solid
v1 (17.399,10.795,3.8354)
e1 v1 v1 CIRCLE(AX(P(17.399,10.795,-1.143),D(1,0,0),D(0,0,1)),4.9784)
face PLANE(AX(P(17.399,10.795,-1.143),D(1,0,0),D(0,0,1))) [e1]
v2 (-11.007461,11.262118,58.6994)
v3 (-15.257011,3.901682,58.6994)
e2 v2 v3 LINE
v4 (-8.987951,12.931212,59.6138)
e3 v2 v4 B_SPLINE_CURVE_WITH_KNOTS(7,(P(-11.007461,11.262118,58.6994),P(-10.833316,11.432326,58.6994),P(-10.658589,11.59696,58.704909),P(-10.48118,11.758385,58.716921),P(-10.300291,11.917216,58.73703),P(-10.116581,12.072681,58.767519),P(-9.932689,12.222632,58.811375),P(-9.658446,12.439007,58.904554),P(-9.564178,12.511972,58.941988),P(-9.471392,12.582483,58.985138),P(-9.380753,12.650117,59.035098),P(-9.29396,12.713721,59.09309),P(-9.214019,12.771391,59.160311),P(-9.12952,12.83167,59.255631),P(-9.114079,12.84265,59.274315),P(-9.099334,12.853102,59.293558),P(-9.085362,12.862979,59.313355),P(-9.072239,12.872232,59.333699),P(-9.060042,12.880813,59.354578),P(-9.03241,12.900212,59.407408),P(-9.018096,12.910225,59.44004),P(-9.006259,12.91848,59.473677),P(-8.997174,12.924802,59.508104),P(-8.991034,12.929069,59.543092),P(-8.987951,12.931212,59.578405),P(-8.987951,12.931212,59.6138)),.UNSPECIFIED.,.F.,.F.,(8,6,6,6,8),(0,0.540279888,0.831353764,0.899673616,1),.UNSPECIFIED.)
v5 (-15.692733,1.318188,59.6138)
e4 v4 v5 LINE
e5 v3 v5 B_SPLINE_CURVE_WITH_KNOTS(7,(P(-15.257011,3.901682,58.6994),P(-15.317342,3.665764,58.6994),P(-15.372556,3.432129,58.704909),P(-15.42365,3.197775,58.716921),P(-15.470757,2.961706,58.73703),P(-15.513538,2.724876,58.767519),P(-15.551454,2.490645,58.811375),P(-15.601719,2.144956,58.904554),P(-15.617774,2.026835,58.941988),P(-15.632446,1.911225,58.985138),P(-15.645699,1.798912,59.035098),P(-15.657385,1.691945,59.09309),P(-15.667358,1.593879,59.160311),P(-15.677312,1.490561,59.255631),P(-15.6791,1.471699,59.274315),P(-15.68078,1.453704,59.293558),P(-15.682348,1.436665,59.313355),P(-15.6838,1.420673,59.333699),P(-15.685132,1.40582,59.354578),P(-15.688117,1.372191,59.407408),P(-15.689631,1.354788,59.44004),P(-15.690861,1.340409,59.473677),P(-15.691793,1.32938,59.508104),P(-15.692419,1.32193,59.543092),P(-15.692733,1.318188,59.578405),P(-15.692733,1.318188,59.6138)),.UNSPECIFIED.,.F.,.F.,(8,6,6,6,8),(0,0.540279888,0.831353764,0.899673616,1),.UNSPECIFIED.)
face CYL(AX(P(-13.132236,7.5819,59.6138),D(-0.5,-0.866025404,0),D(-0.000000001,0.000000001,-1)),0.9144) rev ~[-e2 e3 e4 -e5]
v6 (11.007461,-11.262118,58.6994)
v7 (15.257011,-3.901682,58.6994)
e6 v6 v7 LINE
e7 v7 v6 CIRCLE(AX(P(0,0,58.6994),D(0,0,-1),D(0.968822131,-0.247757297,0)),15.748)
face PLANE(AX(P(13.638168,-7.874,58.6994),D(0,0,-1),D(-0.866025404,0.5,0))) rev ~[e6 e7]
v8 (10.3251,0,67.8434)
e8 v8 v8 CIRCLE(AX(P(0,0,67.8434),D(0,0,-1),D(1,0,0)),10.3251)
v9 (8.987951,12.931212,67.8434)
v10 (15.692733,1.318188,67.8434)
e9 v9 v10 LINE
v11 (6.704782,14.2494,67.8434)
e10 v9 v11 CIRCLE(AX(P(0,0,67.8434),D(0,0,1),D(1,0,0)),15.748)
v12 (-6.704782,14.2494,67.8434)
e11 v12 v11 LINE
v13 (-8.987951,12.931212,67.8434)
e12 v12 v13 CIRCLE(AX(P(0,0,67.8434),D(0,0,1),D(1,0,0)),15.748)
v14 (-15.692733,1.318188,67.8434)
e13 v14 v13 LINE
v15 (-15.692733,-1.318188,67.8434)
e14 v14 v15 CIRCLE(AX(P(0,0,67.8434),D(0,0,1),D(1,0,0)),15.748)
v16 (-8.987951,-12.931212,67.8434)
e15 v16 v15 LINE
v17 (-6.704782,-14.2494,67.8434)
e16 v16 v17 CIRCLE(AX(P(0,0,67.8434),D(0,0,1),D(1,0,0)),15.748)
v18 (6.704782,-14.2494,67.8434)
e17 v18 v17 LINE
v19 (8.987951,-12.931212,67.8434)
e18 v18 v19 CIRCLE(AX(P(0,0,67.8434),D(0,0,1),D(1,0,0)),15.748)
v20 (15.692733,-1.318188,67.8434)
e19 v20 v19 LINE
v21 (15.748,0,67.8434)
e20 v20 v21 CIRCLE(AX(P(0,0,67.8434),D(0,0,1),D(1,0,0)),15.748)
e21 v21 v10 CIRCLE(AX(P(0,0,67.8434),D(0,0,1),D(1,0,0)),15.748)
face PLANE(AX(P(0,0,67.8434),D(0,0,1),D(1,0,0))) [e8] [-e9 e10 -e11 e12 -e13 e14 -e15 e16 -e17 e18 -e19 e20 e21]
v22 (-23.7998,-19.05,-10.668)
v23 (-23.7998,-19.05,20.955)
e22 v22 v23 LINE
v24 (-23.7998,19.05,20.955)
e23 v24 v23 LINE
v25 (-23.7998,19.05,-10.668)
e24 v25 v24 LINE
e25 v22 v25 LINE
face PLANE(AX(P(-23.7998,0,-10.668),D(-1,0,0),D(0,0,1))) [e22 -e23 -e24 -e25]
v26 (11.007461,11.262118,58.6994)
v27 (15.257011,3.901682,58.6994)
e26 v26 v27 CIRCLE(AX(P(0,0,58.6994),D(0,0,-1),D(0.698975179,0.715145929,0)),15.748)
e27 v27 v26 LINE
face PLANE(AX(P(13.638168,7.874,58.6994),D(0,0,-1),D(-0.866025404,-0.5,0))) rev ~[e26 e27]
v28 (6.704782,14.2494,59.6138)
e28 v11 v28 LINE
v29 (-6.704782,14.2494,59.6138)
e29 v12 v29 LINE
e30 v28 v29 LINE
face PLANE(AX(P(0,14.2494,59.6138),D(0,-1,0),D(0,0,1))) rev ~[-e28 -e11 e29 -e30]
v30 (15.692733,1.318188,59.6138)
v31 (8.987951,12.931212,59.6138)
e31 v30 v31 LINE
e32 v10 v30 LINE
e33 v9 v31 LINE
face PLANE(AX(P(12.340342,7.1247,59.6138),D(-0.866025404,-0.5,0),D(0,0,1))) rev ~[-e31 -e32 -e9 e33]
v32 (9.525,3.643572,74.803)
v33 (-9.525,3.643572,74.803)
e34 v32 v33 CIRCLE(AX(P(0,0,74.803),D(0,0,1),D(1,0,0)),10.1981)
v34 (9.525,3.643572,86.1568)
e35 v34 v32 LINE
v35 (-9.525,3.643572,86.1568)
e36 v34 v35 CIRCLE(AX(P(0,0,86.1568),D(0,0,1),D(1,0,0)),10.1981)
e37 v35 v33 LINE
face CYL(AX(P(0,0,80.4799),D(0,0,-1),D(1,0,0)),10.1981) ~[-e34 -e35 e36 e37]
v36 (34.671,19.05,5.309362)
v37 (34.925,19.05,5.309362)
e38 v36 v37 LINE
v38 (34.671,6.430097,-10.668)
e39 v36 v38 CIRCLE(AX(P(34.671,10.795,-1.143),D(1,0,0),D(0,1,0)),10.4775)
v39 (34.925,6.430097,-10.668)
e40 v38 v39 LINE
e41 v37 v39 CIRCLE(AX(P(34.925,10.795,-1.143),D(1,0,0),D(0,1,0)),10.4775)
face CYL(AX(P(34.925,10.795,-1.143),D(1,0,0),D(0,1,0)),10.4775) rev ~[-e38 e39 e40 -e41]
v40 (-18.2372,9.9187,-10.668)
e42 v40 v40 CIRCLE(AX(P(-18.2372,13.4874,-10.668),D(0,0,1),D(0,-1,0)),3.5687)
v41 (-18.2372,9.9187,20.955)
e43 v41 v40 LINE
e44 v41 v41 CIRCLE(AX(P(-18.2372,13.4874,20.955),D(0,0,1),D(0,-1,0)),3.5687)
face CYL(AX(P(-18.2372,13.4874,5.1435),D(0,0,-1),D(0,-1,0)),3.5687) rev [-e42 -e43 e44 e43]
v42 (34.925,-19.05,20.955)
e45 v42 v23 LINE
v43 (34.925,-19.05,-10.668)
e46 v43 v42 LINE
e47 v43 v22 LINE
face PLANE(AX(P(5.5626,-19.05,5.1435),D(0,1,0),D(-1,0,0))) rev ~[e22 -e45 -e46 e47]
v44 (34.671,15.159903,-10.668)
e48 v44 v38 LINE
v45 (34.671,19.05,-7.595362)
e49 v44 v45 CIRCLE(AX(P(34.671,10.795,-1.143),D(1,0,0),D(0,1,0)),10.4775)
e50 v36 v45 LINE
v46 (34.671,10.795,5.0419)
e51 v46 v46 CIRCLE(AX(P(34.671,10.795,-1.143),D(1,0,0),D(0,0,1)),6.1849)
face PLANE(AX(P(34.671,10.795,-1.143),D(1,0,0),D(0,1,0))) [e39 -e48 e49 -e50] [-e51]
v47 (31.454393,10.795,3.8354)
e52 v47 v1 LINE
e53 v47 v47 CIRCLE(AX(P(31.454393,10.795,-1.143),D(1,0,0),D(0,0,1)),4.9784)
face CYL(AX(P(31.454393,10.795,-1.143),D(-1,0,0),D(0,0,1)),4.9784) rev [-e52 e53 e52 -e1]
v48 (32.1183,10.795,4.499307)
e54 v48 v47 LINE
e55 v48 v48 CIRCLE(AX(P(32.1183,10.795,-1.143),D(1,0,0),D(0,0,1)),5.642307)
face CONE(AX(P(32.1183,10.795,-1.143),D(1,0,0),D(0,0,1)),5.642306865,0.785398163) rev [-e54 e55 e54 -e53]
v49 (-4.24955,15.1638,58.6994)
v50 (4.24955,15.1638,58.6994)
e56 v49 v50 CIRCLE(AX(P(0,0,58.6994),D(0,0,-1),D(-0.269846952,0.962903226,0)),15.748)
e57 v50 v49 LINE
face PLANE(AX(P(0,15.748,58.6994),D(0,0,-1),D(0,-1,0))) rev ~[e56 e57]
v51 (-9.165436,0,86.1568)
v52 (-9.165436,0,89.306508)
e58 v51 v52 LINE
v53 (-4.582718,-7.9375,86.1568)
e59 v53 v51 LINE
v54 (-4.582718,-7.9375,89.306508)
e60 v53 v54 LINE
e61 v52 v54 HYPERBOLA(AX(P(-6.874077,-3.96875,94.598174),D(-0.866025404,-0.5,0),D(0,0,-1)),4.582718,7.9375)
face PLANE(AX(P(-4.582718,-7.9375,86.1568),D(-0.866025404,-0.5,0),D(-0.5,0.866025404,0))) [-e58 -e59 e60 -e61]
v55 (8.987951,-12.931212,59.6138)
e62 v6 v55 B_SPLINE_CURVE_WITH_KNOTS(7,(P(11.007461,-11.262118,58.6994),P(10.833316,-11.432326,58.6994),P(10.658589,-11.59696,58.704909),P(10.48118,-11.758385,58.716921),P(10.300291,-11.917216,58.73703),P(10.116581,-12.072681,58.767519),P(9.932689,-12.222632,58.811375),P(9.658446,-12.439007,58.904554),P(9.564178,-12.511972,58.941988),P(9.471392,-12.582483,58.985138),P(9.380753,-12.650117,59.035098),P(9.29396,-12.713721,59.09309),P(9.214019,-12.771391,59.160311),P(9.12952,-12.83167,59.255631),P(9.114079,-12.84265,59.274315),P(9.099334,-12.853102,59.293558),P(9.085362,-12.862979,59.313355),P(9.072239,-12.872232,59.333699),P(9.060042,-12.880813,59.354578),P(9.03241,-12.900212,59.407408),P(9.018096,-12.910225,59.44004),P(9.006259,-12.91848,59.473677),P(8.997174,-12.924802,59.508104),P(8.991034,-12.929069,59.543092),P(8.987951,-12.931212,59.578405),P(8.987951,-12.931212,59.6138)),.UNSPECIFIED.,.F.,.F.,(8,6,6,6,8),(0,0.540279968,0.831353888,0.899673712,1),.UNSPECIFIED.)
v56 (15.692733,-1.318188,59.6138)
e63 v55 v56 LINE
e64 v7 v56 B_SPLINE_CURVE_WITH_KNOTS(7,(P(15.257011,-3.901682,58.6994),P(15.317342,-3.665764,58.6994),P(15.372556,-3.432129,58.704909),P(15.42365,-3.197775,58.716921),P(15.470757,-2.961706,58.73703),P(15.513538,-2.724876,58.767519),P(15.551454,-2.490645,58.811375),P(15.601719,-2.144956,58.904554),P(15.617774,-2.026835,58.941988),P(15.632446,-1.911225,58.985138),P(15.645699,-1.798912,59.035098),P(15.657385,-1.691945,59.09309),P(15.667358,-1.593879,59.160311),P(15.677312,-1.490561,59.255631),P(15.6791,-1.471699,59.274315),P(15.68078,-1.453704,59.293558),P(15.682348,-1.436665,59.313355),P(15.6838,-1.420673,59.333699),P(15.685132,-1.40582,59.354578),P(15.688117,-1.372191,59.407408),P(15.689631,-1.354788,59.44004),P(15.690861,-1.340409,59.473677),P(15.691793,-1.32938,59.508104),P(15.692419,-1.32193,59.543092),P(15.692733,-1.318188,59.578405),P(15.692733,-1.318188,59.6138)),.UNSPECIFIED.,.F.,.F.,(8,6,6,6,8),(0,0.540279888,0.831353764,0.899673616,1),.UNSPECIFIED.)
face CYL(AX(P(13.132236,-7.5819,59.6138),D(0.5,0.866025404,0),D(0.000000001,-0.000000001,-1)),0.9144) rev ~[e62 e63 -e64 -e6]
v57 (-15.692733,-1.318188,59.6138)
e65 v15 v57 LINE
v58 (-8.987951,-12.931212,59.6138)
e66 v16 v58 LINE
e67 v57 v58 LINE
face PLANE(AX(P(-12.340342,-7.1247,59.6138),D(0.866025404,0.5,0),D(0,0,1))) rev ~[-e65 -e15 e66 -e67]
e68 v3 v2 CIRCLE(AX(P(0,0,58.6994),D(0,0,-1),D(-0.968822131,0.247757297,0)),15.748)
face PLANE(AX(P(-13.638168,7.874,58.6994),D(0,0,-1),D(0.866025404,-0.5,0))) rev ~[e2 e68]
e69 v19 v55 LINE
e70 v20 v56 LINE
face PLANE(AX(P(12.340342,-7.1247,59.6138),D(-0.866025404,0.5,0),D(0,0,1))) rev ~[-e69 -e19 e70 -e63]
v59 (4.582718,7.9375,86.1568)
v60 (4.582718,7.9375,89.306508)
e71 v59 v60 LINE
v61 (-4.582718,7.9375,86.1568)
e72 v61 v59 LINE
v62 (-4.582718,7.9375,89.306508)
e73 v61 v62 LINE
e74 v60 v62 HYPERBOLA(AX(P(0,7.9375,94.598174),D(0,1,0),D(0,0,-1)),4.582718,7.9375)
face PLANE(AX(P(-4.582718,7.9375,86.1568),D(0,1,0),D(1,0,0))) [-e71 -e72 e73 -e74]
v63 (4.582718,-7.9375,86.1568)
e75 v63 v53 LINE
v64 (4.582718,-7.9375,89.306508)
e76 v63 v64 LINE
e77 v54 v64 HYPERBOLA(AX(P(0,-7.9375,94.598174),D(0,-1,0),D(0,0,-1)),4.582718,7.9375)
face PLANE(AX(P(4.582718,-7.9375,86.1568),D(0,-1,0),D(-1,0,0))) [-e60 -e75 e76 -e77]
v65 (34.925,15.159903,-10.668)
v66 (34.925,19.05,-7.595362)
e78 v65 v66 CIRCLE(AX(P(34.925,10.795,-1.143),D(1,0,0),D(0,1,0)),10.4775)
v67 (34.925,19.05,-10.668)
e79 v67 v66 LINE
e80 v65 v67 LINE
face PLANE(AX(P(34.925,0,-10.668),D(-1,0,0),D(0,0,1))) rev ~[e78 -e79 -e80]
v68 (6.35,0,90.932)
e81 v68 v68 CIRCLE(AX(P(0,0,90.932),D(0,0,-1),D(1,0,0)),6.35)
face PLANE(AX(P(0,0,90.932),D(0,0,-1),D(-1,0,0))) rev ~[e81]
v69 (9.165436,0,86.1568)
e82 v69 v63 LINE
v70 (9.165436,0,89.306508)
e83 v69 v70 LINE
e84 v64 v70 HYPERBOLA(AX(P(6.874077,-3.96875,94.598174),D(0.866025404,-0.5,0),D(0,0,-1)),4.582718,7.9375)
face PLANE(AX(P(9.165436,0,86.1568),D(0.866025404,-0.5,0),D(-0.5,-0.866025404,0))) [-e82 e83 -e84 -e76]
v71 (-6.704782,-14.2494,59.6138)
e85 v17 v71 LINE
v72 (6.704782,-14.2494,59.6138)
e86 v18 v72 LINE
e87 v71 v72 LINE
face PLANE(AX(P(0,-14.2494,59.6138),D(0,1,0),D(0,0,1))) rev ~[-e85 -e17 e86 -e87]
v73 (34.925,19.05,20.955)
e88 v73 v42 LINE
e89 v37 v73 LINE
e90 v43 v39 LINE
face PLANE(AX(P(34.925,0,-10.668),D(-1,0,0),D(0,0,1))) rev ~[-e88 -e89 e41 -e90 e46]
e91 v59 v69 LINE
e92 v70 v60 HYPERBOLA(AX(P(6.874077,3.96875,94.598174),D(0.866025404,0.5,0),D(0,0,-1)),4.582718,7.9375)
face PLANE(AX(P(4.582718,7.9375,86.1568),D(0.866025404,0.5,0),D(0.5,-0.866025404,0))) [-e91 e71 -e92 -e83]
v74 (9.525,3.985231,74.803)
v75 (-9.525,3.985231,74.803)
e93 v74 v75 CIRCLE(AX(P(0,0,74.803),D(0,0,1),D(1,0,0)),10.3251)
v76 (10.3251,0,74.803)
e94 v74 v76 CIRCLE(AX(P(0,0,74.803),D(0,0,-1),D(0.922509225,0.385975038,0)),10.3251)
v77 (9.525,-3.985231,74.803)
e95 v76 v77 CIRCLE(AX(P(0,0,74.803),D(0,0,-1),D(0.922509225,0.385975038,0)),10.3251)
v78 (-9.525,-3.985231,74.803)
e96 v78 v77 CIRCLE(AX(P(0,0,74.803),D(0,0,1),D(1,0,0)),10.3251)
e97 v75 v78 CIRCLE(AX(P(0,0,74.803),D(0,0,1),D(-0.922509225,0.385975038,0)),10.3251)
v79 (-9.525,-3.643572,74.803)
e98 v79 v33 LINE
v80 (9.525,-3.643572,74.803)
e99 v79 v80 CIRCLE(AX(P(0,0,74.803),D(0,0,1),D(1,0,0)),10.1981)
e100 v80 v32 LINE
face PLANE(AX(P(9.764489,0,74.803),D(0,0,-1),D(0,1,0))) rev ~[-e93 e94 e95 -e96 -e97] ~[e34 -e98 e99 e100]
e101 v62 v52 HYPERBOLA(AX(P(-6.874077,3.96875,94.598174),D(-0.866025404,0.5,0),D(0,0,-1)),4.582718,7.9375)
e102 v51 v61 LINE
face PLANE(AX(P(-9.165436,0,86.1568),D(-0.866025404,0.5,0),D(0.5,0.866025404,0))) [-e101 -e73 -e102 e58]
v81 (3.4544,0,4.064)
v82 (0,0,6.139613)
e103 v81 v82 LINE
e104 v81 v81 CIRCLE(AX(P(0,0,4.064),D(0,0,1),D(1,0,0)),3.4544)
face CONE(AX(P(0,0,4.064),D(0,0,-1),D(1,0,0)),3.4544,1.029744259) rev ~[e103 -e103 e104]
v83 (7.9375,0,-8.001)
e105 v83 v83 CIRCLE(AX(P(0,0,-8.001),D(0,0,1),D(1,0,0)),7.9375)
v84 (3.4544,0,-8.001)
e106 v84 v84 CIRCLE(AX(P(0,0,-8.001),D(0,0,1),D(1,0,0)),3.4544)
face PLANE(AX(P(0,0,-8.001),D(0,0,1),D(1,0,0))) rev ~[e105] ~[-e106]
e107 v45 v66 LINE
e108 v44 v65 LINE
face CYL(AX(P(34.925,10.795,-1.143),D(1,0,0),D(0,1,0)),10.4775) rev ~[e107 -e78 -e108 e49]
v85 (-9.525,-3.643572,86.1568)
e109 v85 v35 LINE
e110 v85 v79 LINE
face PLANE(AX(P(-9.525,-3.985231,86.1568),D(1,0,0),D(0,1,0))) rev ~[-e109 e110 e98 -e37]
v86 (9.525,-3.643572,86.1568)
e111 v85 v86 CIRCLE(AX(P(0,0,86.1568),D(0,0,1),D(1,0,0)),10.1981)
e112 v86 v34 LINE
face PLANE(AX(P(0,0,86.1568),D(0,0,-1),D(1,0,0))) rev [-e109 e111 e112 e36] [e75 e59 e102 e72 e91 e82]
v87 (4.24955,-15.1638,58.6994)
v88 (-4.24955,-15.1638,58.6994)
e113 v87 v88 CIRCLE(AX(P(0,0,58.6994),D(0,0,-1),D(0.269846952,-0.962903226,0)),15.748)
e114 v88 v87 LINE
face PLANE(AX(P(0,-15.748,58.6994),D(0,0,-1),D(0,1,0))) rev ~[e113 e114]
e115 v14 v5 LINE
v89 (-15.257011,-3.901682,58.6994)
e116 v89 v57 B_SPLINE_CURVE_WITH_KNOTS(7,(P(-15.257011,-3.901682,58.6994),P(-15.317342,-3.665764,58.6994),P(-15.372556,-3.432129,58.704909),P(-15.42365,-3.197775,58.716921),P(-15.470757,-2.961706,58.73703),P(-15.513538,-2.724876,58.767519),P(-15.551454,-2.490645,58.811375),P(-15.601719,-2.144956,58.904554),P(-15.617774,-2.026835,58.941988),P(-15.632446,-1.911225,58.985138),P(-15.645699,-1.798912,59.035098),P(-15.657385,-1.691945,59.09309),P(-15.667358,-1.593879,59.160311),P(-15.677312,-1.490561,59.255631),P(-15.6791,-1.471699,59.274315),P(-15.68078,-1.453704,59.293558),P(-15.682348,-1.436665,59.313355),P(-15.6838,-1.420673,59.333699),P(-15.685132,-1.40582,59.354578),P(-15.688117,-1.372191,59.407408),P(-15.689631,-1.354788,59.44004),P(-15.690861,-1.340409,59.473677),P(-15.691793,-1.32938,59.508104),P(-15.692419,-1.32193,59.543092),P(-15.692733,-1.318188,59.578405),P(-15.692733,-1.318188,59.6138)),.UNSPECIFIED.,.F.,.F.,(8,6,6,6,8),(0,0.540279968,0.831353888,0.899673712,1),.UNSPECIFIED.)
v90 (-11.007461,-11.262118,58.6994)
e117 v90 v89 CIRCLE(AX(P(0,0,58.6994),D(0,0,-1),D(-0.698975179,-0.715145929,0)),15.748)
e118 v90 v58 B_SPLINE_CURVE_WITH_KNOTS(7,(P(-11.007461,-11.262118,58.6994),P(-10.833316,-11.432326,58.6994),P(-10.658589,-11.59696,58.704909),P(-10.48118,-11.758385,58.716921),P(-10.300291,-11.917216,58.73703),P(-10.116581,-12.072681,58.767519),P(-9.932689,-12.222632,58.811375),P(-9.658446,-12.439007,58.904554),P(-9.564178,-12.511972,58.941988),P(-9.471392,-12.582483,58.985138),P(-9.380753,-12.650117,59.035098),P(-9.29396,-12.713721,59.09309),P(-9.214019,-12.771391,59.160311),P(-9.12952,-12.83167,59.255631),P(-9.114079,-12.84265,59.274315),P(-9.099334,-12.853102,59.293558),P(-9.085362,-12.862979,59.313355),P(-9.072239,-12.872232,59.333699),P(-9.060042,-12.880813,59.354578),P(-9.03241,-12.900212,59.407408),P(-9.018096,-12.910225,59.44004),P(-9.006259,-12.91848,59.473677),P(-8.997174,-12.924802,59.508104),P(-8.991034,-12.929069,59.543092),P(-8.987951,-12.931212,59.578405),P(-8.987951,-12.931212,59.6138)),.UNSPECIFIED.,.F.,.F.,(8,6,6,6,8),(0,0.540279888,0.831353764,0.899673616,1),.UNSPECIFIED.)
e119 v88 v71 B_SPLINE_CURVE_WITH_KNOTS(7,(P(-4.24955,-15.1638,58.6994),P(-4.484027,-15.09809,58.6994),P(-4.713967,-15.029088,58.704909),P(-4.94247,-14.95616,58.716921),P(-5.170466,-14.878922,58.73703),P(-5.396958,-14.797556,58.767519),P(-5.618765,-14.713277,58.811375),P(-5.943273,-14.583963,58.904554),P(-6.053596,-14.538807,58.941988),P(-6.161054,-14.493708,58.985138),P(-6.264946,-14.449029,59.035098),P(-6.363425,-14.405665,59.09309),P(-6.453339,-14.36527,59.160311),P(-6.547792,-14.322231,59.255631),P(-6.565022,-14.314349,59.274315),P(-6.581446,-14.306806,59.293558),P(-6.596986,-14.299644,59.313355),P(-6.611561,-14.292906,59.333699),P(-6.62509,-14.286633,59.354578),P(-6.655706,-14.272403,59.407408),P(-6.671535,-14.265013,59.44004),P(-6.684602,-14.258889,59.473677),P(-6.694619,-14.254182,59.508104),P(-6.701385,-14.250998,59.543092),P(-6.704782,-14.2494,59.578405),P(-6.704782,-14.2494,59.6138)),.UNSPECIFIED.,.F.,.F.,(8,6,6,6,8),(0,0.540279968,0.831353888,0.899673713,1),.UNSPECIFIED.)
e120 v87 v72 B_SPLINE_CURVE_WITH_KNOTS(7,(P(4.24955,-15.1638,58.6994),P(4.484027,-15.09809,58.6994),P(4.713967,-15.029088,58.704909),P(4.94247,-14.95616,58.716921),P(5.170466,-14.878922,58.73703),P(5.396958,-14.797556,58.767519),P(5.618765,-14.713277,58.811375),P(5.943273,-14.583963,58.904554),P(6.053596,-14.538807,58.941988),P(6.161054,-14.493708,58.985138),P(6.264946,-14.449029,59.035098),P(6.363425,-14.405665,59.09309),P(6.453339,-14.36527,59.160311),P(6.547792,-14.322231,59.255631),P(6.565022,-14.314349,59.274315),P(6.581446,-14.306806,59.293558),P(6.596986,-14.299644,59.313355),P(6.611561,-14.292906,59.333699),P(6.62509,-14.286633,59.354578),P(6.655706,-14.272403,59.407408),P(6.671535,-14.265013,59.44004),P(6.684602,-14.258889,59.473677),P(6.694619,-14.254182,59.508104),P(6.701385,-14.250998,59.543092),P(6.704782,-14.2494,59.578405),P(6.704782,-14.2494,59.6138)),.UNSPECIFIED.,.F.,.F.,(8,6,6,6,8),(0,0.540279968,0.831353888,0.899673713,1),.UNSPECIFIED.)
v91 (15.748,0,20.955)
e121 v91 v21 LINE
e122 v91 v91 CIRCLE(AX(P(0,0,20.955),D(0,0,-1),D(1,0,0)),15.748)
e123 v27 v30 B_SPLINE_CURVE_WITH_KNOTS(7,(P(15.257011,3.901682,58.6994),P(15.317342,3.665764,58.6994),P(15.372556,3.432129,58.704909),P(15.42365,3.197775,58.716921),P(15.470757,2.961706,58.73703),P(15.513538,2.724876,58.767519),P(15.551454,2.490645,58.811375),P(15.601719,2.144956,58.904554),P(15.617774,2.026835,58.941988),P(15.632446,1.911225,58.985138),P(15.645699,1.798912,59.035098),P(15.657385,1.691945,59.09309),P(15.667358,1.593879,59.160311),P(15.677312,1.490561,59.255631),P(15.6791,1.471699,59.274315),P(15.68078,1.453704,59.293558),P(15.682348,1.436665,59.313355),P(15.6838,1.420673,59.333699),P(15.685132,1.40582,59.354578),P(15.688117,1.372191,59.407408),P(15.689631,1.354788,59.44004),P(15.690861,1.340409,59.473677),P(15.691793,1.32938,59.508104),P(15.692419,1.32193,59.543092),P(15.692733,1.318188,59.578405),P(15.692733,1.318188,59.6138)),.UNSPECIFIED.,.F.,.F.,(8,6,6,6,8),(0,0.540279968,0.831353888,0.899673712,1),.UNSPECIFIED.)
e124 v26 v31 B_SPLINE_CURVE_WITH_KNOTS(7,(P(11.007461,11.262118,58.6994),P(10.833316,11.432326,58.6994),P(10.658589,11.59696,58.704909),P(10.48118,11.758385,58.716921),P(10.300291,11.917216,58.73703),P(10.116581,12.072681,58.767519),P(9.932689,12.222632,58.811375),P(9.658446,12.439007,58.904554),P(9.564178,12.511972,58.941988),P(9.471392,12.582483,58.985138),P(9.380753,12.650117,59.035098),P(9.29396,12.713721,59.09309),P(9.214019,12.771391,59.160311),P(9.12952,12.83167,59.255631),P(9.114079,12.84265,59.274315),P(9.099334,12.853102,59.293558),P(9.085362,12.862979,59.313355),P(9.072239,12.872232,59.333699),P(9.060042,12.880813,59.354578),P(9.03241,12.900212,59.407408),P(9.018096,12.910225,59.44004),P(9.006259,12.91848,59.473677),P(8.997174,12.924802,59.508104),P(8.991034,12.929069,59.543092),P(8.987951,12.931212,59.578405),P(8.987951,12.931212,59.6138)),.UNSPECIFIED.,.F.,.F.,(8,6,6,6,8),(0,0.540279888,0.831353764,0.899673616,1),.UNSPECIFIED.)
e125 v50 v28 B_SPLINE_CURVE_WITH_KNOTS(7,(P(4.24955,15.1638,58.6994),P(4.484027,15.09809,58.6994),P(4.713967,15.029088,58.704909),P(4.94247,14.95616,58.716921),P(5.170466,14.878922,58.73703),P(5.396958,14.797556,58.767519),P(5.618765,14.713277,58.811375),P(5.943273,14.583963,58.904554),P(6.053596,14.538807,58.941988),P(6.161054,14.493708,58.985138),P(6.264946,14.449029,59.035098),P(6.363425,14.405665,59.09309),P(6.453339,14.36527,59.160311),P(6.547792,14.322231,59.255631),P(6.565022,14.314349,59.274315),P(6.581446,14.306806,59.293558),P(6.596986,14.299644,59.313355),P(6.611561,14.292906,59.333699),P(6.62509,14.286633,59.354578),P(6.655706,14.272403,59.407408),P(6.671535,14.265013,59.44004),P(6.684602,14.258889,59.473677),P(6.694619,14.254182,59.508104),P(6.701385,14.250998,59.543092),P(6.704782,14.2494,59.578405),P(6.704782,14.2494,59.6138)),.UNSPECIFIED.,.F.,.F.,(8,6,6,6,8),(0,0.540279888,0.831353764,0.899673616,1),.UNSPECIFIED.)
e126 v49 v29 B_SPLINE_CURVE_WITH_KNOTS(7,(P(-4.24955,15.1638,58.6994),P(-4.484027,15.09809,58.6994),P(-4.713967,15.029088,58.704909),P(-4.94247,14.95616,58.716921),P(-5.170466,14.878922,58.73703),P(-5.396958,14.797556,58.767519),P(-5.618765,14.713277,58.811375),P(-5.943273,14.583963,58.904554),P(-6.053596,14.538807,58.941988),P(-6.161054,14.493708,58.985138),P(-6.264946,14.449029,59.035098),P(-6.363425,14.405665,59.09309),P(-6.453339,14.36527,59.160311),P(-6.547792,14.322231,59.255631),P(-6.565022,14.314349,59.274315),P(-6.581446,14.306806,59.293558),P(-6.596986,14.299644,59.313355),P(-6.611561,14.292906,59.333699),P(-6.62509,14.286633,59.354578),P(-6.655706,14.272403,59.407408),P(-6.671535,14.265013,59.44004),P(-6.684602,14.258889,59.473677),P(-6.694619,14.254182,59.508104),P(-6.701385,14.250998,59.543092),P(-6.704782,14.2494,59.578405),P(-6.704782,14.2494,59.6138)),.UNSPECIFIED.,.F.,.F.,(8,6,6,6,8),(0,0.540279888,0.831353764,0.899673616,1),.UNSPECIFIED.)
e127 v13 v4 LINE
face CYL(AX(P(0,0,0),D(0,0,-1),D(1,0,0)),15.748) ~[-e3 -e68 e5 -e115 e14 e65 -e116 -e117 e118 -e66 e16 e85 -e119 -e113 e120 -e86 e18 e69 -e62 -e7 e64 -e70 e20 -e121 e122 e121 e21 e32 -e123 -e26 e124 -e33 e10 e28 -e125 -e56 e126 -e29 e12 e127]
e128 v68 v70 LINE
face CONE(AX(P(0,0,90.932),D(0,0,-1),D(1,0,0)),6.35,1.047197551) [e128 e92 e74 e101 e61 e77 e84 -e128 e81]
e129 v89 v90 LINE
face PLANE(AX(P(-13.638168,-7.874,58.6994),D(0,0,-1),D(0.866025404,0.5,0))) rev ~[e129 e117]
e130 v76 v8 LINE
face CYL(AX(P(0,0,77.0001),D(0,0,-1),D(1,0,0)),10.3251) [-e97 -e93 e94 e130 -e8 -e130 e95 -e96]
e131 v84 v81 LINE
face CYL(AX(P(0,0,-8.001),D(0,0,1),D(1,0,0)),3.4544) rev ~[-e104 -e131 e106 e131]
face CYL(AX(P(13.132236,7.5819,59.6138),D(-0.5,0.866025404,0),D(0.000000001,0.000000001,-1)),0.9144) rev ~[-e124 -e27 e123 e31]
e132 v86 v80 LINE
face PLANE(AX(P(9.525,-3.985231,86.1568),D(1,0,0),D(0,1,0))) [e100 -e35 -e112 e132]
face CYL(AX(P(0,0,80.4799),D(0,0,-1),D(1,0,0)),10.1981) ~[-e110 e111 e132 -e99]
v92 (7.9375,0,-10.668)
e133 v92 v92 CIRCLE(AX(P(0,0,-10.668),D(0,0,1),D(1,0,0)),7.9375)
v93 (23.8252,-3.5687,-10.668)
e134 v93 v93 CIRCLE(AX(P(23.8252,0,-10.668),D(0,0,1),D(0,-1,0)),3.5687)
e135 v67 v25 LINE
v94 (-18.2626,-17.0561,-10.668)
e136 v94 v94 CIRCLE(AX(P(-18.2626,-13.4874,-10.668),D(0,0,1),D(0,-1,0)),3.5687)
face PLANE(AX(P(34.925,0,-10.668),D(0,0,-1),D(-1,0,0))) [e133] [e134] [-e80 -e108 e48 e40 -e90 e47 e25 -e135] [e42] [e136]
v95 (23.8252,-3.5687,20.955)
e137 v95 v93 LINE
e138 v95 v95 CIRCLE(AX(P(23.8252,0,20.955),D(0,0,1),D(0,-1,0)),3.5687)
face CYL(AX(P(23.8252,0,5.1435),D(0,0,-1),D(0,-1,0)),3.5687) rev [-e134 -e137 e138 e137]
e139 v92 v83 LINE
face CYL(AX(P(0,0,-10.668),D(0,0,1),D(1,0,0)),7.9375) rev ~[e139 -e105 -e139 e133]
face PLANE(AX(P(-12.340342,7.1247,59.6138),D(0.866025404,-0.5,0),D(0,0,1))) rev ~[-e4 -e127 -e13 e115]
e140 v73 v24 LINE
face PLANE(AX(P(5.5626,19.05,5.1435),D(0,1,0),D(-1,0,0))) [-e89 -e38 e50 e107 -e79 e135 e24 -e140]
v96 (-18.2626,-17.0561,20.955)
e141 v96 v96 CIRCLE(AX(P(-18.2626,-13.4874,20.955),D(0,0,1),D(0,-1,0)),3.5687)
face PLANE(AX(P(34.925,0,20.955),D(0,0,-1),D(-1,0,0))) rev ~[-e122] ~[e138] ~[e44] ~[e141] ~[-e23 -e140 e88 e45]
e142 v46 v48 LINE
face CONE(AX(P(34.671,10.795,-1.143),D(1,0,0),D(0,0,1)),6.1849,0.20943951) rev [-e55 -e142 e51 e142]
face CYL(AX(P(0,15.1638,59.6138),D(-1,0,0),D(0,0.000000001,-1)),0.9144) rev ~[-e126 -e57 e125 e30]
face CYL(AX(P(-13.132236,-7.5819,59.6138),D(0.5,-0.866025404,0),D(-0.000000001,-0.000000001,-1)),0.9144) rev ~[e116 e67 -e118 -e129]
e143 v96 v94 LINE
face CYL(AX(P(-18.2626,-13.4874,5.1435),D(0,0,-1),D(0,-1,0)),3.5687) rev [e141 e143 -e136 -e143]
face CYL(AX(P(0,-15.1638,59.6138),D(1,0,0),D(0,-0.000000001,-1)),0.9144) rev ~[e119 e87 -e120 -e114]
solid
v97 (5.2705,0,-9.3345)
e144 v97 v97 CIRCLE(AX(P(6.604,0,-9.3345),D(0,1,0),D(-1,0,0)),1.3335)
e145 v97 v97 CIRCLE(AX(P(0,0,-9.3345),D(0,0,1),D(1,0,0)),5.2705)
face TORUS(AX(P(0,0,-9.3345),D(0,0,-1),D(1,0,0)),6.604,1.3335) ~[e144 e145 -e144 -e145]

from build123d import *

# Parameters (mm, degrees)
SKETCH1_R           = 15.748
EXTRUDE1_DEPTH      = 67.8434
CUT_EXTRUDE1_DEPTH  = 18.8976
SKETCH11_W          = 18.3134
SKETCH11_H          = 10.3251
CUT_EXTRUDE10_DEPTH = 11.3538
EXTRUDE2_DEPTH      = 4.7752
SKETCH17_W          = 58.7248
SKETCH17_H          = 31.623
EXTRUDE4_DEPTH      = 19.05
SKETCH19_R          = 10.4775
CUT_EXTRUDE12_DEPTH = 0.254
SKETCH22_R          = 1.3335
CIRPATTERN2_COUNT   = 6
SKETCH23_W          = 3.5687
SKETCH23_H          = 31.623
HOLE1_AT_2_COUNT    = 2
HOLE1_AT_2_PITCH    = 44.196072988
HOLE1_AT_3_COUNT    = 2
HOLE1_AT_3_PITCH    = 26.974811959
SKETCH25_W          = 11.3538
SKETCH25_H          = 0.127


with BuildPart() as part:
    # Sketch1 → Extrude1 (new body)
    with BuildSketch(Plane.XY):
        Circle(SKETCH1_R)
    extrude(amount=EXTRUDE1_DEPTH)

    # Sketch2 → Cut-Extrude1 (cut, symmetric)
    with BuildSketch(Plane(origin=(0, 0, 0), x_dir=(0, 0, 1), z_dir=(1, 0, 0))):
        with BuildLine():
            Line((58.6994, 15.748), (58.6994, 15.1638))
            ThreePointArc((58.6994, 15.1638), (58.967221559, 14.517221559), (59.6138, 14.2494))
            Line((59.6138, 14.2494), (67.8434, 14.2494))
            Line((67.8434, 14.2494), (67.8434, 15.748))
            Line((67.8434, 15.748), (58.6994, 15.748))
        make_face()
    cut_extrude1 = extrude(amount=CUT_EXTRUDE1_DEPTH, both=True, mode=Mode.SUBTRACT)

    # Sketch10 → Cut-Revolve1 (revolve, cut)
    with BuildSketch(Plane(origin=(0, 0, 0), x_dir=(0, 0, 1), z_dir=(1, 0, 0)), mode=Mode.PRIVATE) as cut_revolve1_sk:
        Polygon((0, 14.8717), (7.7978, 14.8717), (8.6741, 15.748), (0, 15.748), align=None)
    revolve(cut_revolve1_sk.sketch.rotate(Axis((0, 0, -0.433705), (0, 0, 1)), 90), axis=Axis((0, 0, -0.433705), (0, 0, 1)), mode=Mode.SUBTRACT)  # turned: the seam where the file's is

    # Sketch11 → Revolve1 (revolve)
    with BuildSketch(Plane(origin=(0, 0, 0), x_dir=(0, 0, -1), z_dir=(1, 0, 0)), mode=Mode.PRIVATE) as revolve1_sk:
        with Locations((-77.0001, 5.16255)):
            Rectangle(SKETCH11_W, SKETCH11_H)
    revolve(revolve1_sk.sketch.rotate(Axis((0, 0, 71.154272279), (0, 0, -1)), 90), axis=Axis((0, 0, 71.154272279), (0, 0, -1)))  # turned: the seam where the file's is

    # Sketch14 → Cut-Extrude10 (cut)
    with BuildSketch(Plane.YX.offset(-86.1568)):
        with BuildLine():
            Line((-3.98523086, 9.525), (3.98523086, 9.525))
            ThreePointArc((3.98523086, 9.525), (0, 10.3251), (-3.98523086, 9.525))
        make_face()
        with BuildLine():
            Line((-3.98523086, -9.525), (3.98523086, -9.525))
            ThreePointArc((3.98523086, -9.525), (0, -10.3251), (-3.98523086, -9.525))
        make_face()
    extrude(amount=CUT_EXTRUDE10_DEPTH, mode=Mode.SUBTRACT)

    # Sketch15 → Extrude2 (add)
    with BuildSketch(Plane.XY.offset(86.1568)):
        Polygon((-4.582717762, 7.9375), (4.582717762, 7.9375), (9.165435523, 0), (4.582717762, -7.9375), (-4.582717762, -7.9375), (-9.165435523, 0), align=None)
    extrude(amount=EXTRUDE2_DEPTH)

    # Sketch16 → Cut-Revolve3 (revolve, cut)
    with BuildSketch(Plane(origin=(0, 0, 0), x_dir=(1, 0, 0), z_dir=(0, 1, 0))):
        Polygon((6.35, -90.932), (9.165435523, -89.306507543), (9.165435523, -90.932), align=None)
    revolve(axis=Axis((0, 0, 75.265274623), (0, 0, -1)), mode=Mode.SUBTRACT)

    # Sketch17 → Extrude4 (add, symmetric)
    with BuildSketch(Plane(origin=(0, 0, 0), x_dir=(-1, 0, 0), z_dir=(0, 1, 0))):
        with Locations((-5.5626, 5.1435)):
            Rectangle(SKETCH17_W, SKETCH17_H)
    extrude(amount=EXTRUDE4_DEPTH, both=True)

    # Sketch19 → Cut-Extrude12 (cut)
    with BuildSketch(Plane(origin=(34.925, -19.05, 0), x_dir=(0, 1, 0), z_dir=(1, 0, 0))):
        with Locations((29.845, -1.143)):
            Circle(SKETCH19_R)
    extrude(amount=-CUT_EXTRUDE12_DEPTH, mode=Mode.SUBTRACT)

    # S2D0001 → Cut-Revolve4 (revolve, cut)
    with BuildSketch(Plane(origin=(34.671, 10.795, -1.143), x_dir=(0, -1, 0), z_dir=(0, 0, 1)), mode=Mode.PRIVATE) as cut_revolve4_sk:
        Polygon((0, 0), (6.1849, 0), (5.642306865, -2.5527), (4.9784, -3.216606865), (4.9784, -17.272), (0, -17.272), align=None)
    revolve(cut_revolve4_sk.sketch.rotate(Axis((16.5354, 10.795, -1.143), (1, 0, 0)), 270), axis=Axis((16.5354, 10.795, -1.143), (1, 0, 0)), mode=Mode.SUBTRACT)  # turned: the seam where the file's is

    # Sketch21 → Cut-Revolve5 (revolve, cut)
    with BuildSketch(Plane(origin=(0, 0, -9.329310202), x_dir=(-1, 0, 0), z_dir=(0, 1, 0)), mode=Mode.PRIVATE) as cut_revolve5_sk:
        Polygon((0, -1.338689798), (7.9375, -1.338689798), (7.9375, 1.328310202), (3.4544, 1.328310202), (3.4544, 13.393310202), (0, 15.468923125), align=None)
    revolve(cut_revolve5_sk.sketch.rotate(Axis((0, 0, -11.508380646), (0, 0, 1)), 180), axis=Axis((0, 0, -11.508380646), (0, 0, 1)), mode=Mode.SUBTRACT)  # turned: the seam where the file's is

    # CirPattern2: Cut-Extrude1 ×6 about axis
    cirpattern2_axis = Axis((0, 0, 0), (0, 0, 1))
    for i in range(1, CIRPATTERN2_COUNT):
        add(cut_extrude1.rotate(cirpattern2_axis, i * 360 / CIRPATTERN2_COUNT), mode=Mode.SUBTRACT)

    # Sketch23 → Hole1 (revolve, cut)
    with BuildSketch(Plane(origin=(-18.2626, -13.4874, 20.955), x_dir=(0, -1, 0), z_dir=(1, 0, 0))):
        with Locations((1.78435, 15.8115)):
            Rectangle(SKETCH23_W, SKETCH23_H)
    hole1 = revolve(axis=Axis((-18.2626, -13.4874, -89.045), (0, 0, 1)), mode=Mode.SUBTRACT)

    # Hole1 at 2: Hole1 ×2
    with Locations(*[Vector(0.952297278, 0.30517191, 0) * (i * HOLE1_AT_2_PITCH) for i in range(1, HOLE1_AT_2_COUNT)]):
        add(hole1, mode=Mode.SUBTRACT)

    # Hole1 at 3: Hole1 ×2
    with Locations(*[Vector(0.000941619, 0.999999557, 0) * (i * HOLE1_AT_3_PITCH) for i in range(1, HOLE1_AT_3_COUNT)]):
        add(hole1, mode=Mode.SUBTRACT)

    # Sketch25 → Cut-Revolve6 (revolve, cut)
    with BuildSketch(Plane(origin=(0, 0, 0), x_dir=(0, 0, -1), z_dir=(1, 0, 0)), mode=Mode.PRIVATE) as cut_revolve6_sk:
        with Locations((-80.4799, 10.2616)):
            Rectangle(SKETCH25_W, SKETCH25_H)
    revolve(cut_revolve6_sk.sketch.rotate(Axis((0, 0, -10.707857417), (0, 0, 1)), 270), axis=Axis((0, 0, -10.707857417), (0, 0, 1)), mode=Mode.SUBTRACT)  # turned: the seam where the file's is


with BuildPart() as body_2:
    # Sketch22 → Revolve2 (revolve)
    with BuildSketch(Plane(origin=(0, 0, -9.329310202), x_dir=(-1, 0, 0), z_dir=(0, 1, 0))):
        with Locations((-6.604, -0.005189798)):
            Circle(SKETCH22_R)
    revolve(axis=Axis((0, 0, -10.80135), (0, 0, 1)))


solid = Compound([part.part, body_2.part])
